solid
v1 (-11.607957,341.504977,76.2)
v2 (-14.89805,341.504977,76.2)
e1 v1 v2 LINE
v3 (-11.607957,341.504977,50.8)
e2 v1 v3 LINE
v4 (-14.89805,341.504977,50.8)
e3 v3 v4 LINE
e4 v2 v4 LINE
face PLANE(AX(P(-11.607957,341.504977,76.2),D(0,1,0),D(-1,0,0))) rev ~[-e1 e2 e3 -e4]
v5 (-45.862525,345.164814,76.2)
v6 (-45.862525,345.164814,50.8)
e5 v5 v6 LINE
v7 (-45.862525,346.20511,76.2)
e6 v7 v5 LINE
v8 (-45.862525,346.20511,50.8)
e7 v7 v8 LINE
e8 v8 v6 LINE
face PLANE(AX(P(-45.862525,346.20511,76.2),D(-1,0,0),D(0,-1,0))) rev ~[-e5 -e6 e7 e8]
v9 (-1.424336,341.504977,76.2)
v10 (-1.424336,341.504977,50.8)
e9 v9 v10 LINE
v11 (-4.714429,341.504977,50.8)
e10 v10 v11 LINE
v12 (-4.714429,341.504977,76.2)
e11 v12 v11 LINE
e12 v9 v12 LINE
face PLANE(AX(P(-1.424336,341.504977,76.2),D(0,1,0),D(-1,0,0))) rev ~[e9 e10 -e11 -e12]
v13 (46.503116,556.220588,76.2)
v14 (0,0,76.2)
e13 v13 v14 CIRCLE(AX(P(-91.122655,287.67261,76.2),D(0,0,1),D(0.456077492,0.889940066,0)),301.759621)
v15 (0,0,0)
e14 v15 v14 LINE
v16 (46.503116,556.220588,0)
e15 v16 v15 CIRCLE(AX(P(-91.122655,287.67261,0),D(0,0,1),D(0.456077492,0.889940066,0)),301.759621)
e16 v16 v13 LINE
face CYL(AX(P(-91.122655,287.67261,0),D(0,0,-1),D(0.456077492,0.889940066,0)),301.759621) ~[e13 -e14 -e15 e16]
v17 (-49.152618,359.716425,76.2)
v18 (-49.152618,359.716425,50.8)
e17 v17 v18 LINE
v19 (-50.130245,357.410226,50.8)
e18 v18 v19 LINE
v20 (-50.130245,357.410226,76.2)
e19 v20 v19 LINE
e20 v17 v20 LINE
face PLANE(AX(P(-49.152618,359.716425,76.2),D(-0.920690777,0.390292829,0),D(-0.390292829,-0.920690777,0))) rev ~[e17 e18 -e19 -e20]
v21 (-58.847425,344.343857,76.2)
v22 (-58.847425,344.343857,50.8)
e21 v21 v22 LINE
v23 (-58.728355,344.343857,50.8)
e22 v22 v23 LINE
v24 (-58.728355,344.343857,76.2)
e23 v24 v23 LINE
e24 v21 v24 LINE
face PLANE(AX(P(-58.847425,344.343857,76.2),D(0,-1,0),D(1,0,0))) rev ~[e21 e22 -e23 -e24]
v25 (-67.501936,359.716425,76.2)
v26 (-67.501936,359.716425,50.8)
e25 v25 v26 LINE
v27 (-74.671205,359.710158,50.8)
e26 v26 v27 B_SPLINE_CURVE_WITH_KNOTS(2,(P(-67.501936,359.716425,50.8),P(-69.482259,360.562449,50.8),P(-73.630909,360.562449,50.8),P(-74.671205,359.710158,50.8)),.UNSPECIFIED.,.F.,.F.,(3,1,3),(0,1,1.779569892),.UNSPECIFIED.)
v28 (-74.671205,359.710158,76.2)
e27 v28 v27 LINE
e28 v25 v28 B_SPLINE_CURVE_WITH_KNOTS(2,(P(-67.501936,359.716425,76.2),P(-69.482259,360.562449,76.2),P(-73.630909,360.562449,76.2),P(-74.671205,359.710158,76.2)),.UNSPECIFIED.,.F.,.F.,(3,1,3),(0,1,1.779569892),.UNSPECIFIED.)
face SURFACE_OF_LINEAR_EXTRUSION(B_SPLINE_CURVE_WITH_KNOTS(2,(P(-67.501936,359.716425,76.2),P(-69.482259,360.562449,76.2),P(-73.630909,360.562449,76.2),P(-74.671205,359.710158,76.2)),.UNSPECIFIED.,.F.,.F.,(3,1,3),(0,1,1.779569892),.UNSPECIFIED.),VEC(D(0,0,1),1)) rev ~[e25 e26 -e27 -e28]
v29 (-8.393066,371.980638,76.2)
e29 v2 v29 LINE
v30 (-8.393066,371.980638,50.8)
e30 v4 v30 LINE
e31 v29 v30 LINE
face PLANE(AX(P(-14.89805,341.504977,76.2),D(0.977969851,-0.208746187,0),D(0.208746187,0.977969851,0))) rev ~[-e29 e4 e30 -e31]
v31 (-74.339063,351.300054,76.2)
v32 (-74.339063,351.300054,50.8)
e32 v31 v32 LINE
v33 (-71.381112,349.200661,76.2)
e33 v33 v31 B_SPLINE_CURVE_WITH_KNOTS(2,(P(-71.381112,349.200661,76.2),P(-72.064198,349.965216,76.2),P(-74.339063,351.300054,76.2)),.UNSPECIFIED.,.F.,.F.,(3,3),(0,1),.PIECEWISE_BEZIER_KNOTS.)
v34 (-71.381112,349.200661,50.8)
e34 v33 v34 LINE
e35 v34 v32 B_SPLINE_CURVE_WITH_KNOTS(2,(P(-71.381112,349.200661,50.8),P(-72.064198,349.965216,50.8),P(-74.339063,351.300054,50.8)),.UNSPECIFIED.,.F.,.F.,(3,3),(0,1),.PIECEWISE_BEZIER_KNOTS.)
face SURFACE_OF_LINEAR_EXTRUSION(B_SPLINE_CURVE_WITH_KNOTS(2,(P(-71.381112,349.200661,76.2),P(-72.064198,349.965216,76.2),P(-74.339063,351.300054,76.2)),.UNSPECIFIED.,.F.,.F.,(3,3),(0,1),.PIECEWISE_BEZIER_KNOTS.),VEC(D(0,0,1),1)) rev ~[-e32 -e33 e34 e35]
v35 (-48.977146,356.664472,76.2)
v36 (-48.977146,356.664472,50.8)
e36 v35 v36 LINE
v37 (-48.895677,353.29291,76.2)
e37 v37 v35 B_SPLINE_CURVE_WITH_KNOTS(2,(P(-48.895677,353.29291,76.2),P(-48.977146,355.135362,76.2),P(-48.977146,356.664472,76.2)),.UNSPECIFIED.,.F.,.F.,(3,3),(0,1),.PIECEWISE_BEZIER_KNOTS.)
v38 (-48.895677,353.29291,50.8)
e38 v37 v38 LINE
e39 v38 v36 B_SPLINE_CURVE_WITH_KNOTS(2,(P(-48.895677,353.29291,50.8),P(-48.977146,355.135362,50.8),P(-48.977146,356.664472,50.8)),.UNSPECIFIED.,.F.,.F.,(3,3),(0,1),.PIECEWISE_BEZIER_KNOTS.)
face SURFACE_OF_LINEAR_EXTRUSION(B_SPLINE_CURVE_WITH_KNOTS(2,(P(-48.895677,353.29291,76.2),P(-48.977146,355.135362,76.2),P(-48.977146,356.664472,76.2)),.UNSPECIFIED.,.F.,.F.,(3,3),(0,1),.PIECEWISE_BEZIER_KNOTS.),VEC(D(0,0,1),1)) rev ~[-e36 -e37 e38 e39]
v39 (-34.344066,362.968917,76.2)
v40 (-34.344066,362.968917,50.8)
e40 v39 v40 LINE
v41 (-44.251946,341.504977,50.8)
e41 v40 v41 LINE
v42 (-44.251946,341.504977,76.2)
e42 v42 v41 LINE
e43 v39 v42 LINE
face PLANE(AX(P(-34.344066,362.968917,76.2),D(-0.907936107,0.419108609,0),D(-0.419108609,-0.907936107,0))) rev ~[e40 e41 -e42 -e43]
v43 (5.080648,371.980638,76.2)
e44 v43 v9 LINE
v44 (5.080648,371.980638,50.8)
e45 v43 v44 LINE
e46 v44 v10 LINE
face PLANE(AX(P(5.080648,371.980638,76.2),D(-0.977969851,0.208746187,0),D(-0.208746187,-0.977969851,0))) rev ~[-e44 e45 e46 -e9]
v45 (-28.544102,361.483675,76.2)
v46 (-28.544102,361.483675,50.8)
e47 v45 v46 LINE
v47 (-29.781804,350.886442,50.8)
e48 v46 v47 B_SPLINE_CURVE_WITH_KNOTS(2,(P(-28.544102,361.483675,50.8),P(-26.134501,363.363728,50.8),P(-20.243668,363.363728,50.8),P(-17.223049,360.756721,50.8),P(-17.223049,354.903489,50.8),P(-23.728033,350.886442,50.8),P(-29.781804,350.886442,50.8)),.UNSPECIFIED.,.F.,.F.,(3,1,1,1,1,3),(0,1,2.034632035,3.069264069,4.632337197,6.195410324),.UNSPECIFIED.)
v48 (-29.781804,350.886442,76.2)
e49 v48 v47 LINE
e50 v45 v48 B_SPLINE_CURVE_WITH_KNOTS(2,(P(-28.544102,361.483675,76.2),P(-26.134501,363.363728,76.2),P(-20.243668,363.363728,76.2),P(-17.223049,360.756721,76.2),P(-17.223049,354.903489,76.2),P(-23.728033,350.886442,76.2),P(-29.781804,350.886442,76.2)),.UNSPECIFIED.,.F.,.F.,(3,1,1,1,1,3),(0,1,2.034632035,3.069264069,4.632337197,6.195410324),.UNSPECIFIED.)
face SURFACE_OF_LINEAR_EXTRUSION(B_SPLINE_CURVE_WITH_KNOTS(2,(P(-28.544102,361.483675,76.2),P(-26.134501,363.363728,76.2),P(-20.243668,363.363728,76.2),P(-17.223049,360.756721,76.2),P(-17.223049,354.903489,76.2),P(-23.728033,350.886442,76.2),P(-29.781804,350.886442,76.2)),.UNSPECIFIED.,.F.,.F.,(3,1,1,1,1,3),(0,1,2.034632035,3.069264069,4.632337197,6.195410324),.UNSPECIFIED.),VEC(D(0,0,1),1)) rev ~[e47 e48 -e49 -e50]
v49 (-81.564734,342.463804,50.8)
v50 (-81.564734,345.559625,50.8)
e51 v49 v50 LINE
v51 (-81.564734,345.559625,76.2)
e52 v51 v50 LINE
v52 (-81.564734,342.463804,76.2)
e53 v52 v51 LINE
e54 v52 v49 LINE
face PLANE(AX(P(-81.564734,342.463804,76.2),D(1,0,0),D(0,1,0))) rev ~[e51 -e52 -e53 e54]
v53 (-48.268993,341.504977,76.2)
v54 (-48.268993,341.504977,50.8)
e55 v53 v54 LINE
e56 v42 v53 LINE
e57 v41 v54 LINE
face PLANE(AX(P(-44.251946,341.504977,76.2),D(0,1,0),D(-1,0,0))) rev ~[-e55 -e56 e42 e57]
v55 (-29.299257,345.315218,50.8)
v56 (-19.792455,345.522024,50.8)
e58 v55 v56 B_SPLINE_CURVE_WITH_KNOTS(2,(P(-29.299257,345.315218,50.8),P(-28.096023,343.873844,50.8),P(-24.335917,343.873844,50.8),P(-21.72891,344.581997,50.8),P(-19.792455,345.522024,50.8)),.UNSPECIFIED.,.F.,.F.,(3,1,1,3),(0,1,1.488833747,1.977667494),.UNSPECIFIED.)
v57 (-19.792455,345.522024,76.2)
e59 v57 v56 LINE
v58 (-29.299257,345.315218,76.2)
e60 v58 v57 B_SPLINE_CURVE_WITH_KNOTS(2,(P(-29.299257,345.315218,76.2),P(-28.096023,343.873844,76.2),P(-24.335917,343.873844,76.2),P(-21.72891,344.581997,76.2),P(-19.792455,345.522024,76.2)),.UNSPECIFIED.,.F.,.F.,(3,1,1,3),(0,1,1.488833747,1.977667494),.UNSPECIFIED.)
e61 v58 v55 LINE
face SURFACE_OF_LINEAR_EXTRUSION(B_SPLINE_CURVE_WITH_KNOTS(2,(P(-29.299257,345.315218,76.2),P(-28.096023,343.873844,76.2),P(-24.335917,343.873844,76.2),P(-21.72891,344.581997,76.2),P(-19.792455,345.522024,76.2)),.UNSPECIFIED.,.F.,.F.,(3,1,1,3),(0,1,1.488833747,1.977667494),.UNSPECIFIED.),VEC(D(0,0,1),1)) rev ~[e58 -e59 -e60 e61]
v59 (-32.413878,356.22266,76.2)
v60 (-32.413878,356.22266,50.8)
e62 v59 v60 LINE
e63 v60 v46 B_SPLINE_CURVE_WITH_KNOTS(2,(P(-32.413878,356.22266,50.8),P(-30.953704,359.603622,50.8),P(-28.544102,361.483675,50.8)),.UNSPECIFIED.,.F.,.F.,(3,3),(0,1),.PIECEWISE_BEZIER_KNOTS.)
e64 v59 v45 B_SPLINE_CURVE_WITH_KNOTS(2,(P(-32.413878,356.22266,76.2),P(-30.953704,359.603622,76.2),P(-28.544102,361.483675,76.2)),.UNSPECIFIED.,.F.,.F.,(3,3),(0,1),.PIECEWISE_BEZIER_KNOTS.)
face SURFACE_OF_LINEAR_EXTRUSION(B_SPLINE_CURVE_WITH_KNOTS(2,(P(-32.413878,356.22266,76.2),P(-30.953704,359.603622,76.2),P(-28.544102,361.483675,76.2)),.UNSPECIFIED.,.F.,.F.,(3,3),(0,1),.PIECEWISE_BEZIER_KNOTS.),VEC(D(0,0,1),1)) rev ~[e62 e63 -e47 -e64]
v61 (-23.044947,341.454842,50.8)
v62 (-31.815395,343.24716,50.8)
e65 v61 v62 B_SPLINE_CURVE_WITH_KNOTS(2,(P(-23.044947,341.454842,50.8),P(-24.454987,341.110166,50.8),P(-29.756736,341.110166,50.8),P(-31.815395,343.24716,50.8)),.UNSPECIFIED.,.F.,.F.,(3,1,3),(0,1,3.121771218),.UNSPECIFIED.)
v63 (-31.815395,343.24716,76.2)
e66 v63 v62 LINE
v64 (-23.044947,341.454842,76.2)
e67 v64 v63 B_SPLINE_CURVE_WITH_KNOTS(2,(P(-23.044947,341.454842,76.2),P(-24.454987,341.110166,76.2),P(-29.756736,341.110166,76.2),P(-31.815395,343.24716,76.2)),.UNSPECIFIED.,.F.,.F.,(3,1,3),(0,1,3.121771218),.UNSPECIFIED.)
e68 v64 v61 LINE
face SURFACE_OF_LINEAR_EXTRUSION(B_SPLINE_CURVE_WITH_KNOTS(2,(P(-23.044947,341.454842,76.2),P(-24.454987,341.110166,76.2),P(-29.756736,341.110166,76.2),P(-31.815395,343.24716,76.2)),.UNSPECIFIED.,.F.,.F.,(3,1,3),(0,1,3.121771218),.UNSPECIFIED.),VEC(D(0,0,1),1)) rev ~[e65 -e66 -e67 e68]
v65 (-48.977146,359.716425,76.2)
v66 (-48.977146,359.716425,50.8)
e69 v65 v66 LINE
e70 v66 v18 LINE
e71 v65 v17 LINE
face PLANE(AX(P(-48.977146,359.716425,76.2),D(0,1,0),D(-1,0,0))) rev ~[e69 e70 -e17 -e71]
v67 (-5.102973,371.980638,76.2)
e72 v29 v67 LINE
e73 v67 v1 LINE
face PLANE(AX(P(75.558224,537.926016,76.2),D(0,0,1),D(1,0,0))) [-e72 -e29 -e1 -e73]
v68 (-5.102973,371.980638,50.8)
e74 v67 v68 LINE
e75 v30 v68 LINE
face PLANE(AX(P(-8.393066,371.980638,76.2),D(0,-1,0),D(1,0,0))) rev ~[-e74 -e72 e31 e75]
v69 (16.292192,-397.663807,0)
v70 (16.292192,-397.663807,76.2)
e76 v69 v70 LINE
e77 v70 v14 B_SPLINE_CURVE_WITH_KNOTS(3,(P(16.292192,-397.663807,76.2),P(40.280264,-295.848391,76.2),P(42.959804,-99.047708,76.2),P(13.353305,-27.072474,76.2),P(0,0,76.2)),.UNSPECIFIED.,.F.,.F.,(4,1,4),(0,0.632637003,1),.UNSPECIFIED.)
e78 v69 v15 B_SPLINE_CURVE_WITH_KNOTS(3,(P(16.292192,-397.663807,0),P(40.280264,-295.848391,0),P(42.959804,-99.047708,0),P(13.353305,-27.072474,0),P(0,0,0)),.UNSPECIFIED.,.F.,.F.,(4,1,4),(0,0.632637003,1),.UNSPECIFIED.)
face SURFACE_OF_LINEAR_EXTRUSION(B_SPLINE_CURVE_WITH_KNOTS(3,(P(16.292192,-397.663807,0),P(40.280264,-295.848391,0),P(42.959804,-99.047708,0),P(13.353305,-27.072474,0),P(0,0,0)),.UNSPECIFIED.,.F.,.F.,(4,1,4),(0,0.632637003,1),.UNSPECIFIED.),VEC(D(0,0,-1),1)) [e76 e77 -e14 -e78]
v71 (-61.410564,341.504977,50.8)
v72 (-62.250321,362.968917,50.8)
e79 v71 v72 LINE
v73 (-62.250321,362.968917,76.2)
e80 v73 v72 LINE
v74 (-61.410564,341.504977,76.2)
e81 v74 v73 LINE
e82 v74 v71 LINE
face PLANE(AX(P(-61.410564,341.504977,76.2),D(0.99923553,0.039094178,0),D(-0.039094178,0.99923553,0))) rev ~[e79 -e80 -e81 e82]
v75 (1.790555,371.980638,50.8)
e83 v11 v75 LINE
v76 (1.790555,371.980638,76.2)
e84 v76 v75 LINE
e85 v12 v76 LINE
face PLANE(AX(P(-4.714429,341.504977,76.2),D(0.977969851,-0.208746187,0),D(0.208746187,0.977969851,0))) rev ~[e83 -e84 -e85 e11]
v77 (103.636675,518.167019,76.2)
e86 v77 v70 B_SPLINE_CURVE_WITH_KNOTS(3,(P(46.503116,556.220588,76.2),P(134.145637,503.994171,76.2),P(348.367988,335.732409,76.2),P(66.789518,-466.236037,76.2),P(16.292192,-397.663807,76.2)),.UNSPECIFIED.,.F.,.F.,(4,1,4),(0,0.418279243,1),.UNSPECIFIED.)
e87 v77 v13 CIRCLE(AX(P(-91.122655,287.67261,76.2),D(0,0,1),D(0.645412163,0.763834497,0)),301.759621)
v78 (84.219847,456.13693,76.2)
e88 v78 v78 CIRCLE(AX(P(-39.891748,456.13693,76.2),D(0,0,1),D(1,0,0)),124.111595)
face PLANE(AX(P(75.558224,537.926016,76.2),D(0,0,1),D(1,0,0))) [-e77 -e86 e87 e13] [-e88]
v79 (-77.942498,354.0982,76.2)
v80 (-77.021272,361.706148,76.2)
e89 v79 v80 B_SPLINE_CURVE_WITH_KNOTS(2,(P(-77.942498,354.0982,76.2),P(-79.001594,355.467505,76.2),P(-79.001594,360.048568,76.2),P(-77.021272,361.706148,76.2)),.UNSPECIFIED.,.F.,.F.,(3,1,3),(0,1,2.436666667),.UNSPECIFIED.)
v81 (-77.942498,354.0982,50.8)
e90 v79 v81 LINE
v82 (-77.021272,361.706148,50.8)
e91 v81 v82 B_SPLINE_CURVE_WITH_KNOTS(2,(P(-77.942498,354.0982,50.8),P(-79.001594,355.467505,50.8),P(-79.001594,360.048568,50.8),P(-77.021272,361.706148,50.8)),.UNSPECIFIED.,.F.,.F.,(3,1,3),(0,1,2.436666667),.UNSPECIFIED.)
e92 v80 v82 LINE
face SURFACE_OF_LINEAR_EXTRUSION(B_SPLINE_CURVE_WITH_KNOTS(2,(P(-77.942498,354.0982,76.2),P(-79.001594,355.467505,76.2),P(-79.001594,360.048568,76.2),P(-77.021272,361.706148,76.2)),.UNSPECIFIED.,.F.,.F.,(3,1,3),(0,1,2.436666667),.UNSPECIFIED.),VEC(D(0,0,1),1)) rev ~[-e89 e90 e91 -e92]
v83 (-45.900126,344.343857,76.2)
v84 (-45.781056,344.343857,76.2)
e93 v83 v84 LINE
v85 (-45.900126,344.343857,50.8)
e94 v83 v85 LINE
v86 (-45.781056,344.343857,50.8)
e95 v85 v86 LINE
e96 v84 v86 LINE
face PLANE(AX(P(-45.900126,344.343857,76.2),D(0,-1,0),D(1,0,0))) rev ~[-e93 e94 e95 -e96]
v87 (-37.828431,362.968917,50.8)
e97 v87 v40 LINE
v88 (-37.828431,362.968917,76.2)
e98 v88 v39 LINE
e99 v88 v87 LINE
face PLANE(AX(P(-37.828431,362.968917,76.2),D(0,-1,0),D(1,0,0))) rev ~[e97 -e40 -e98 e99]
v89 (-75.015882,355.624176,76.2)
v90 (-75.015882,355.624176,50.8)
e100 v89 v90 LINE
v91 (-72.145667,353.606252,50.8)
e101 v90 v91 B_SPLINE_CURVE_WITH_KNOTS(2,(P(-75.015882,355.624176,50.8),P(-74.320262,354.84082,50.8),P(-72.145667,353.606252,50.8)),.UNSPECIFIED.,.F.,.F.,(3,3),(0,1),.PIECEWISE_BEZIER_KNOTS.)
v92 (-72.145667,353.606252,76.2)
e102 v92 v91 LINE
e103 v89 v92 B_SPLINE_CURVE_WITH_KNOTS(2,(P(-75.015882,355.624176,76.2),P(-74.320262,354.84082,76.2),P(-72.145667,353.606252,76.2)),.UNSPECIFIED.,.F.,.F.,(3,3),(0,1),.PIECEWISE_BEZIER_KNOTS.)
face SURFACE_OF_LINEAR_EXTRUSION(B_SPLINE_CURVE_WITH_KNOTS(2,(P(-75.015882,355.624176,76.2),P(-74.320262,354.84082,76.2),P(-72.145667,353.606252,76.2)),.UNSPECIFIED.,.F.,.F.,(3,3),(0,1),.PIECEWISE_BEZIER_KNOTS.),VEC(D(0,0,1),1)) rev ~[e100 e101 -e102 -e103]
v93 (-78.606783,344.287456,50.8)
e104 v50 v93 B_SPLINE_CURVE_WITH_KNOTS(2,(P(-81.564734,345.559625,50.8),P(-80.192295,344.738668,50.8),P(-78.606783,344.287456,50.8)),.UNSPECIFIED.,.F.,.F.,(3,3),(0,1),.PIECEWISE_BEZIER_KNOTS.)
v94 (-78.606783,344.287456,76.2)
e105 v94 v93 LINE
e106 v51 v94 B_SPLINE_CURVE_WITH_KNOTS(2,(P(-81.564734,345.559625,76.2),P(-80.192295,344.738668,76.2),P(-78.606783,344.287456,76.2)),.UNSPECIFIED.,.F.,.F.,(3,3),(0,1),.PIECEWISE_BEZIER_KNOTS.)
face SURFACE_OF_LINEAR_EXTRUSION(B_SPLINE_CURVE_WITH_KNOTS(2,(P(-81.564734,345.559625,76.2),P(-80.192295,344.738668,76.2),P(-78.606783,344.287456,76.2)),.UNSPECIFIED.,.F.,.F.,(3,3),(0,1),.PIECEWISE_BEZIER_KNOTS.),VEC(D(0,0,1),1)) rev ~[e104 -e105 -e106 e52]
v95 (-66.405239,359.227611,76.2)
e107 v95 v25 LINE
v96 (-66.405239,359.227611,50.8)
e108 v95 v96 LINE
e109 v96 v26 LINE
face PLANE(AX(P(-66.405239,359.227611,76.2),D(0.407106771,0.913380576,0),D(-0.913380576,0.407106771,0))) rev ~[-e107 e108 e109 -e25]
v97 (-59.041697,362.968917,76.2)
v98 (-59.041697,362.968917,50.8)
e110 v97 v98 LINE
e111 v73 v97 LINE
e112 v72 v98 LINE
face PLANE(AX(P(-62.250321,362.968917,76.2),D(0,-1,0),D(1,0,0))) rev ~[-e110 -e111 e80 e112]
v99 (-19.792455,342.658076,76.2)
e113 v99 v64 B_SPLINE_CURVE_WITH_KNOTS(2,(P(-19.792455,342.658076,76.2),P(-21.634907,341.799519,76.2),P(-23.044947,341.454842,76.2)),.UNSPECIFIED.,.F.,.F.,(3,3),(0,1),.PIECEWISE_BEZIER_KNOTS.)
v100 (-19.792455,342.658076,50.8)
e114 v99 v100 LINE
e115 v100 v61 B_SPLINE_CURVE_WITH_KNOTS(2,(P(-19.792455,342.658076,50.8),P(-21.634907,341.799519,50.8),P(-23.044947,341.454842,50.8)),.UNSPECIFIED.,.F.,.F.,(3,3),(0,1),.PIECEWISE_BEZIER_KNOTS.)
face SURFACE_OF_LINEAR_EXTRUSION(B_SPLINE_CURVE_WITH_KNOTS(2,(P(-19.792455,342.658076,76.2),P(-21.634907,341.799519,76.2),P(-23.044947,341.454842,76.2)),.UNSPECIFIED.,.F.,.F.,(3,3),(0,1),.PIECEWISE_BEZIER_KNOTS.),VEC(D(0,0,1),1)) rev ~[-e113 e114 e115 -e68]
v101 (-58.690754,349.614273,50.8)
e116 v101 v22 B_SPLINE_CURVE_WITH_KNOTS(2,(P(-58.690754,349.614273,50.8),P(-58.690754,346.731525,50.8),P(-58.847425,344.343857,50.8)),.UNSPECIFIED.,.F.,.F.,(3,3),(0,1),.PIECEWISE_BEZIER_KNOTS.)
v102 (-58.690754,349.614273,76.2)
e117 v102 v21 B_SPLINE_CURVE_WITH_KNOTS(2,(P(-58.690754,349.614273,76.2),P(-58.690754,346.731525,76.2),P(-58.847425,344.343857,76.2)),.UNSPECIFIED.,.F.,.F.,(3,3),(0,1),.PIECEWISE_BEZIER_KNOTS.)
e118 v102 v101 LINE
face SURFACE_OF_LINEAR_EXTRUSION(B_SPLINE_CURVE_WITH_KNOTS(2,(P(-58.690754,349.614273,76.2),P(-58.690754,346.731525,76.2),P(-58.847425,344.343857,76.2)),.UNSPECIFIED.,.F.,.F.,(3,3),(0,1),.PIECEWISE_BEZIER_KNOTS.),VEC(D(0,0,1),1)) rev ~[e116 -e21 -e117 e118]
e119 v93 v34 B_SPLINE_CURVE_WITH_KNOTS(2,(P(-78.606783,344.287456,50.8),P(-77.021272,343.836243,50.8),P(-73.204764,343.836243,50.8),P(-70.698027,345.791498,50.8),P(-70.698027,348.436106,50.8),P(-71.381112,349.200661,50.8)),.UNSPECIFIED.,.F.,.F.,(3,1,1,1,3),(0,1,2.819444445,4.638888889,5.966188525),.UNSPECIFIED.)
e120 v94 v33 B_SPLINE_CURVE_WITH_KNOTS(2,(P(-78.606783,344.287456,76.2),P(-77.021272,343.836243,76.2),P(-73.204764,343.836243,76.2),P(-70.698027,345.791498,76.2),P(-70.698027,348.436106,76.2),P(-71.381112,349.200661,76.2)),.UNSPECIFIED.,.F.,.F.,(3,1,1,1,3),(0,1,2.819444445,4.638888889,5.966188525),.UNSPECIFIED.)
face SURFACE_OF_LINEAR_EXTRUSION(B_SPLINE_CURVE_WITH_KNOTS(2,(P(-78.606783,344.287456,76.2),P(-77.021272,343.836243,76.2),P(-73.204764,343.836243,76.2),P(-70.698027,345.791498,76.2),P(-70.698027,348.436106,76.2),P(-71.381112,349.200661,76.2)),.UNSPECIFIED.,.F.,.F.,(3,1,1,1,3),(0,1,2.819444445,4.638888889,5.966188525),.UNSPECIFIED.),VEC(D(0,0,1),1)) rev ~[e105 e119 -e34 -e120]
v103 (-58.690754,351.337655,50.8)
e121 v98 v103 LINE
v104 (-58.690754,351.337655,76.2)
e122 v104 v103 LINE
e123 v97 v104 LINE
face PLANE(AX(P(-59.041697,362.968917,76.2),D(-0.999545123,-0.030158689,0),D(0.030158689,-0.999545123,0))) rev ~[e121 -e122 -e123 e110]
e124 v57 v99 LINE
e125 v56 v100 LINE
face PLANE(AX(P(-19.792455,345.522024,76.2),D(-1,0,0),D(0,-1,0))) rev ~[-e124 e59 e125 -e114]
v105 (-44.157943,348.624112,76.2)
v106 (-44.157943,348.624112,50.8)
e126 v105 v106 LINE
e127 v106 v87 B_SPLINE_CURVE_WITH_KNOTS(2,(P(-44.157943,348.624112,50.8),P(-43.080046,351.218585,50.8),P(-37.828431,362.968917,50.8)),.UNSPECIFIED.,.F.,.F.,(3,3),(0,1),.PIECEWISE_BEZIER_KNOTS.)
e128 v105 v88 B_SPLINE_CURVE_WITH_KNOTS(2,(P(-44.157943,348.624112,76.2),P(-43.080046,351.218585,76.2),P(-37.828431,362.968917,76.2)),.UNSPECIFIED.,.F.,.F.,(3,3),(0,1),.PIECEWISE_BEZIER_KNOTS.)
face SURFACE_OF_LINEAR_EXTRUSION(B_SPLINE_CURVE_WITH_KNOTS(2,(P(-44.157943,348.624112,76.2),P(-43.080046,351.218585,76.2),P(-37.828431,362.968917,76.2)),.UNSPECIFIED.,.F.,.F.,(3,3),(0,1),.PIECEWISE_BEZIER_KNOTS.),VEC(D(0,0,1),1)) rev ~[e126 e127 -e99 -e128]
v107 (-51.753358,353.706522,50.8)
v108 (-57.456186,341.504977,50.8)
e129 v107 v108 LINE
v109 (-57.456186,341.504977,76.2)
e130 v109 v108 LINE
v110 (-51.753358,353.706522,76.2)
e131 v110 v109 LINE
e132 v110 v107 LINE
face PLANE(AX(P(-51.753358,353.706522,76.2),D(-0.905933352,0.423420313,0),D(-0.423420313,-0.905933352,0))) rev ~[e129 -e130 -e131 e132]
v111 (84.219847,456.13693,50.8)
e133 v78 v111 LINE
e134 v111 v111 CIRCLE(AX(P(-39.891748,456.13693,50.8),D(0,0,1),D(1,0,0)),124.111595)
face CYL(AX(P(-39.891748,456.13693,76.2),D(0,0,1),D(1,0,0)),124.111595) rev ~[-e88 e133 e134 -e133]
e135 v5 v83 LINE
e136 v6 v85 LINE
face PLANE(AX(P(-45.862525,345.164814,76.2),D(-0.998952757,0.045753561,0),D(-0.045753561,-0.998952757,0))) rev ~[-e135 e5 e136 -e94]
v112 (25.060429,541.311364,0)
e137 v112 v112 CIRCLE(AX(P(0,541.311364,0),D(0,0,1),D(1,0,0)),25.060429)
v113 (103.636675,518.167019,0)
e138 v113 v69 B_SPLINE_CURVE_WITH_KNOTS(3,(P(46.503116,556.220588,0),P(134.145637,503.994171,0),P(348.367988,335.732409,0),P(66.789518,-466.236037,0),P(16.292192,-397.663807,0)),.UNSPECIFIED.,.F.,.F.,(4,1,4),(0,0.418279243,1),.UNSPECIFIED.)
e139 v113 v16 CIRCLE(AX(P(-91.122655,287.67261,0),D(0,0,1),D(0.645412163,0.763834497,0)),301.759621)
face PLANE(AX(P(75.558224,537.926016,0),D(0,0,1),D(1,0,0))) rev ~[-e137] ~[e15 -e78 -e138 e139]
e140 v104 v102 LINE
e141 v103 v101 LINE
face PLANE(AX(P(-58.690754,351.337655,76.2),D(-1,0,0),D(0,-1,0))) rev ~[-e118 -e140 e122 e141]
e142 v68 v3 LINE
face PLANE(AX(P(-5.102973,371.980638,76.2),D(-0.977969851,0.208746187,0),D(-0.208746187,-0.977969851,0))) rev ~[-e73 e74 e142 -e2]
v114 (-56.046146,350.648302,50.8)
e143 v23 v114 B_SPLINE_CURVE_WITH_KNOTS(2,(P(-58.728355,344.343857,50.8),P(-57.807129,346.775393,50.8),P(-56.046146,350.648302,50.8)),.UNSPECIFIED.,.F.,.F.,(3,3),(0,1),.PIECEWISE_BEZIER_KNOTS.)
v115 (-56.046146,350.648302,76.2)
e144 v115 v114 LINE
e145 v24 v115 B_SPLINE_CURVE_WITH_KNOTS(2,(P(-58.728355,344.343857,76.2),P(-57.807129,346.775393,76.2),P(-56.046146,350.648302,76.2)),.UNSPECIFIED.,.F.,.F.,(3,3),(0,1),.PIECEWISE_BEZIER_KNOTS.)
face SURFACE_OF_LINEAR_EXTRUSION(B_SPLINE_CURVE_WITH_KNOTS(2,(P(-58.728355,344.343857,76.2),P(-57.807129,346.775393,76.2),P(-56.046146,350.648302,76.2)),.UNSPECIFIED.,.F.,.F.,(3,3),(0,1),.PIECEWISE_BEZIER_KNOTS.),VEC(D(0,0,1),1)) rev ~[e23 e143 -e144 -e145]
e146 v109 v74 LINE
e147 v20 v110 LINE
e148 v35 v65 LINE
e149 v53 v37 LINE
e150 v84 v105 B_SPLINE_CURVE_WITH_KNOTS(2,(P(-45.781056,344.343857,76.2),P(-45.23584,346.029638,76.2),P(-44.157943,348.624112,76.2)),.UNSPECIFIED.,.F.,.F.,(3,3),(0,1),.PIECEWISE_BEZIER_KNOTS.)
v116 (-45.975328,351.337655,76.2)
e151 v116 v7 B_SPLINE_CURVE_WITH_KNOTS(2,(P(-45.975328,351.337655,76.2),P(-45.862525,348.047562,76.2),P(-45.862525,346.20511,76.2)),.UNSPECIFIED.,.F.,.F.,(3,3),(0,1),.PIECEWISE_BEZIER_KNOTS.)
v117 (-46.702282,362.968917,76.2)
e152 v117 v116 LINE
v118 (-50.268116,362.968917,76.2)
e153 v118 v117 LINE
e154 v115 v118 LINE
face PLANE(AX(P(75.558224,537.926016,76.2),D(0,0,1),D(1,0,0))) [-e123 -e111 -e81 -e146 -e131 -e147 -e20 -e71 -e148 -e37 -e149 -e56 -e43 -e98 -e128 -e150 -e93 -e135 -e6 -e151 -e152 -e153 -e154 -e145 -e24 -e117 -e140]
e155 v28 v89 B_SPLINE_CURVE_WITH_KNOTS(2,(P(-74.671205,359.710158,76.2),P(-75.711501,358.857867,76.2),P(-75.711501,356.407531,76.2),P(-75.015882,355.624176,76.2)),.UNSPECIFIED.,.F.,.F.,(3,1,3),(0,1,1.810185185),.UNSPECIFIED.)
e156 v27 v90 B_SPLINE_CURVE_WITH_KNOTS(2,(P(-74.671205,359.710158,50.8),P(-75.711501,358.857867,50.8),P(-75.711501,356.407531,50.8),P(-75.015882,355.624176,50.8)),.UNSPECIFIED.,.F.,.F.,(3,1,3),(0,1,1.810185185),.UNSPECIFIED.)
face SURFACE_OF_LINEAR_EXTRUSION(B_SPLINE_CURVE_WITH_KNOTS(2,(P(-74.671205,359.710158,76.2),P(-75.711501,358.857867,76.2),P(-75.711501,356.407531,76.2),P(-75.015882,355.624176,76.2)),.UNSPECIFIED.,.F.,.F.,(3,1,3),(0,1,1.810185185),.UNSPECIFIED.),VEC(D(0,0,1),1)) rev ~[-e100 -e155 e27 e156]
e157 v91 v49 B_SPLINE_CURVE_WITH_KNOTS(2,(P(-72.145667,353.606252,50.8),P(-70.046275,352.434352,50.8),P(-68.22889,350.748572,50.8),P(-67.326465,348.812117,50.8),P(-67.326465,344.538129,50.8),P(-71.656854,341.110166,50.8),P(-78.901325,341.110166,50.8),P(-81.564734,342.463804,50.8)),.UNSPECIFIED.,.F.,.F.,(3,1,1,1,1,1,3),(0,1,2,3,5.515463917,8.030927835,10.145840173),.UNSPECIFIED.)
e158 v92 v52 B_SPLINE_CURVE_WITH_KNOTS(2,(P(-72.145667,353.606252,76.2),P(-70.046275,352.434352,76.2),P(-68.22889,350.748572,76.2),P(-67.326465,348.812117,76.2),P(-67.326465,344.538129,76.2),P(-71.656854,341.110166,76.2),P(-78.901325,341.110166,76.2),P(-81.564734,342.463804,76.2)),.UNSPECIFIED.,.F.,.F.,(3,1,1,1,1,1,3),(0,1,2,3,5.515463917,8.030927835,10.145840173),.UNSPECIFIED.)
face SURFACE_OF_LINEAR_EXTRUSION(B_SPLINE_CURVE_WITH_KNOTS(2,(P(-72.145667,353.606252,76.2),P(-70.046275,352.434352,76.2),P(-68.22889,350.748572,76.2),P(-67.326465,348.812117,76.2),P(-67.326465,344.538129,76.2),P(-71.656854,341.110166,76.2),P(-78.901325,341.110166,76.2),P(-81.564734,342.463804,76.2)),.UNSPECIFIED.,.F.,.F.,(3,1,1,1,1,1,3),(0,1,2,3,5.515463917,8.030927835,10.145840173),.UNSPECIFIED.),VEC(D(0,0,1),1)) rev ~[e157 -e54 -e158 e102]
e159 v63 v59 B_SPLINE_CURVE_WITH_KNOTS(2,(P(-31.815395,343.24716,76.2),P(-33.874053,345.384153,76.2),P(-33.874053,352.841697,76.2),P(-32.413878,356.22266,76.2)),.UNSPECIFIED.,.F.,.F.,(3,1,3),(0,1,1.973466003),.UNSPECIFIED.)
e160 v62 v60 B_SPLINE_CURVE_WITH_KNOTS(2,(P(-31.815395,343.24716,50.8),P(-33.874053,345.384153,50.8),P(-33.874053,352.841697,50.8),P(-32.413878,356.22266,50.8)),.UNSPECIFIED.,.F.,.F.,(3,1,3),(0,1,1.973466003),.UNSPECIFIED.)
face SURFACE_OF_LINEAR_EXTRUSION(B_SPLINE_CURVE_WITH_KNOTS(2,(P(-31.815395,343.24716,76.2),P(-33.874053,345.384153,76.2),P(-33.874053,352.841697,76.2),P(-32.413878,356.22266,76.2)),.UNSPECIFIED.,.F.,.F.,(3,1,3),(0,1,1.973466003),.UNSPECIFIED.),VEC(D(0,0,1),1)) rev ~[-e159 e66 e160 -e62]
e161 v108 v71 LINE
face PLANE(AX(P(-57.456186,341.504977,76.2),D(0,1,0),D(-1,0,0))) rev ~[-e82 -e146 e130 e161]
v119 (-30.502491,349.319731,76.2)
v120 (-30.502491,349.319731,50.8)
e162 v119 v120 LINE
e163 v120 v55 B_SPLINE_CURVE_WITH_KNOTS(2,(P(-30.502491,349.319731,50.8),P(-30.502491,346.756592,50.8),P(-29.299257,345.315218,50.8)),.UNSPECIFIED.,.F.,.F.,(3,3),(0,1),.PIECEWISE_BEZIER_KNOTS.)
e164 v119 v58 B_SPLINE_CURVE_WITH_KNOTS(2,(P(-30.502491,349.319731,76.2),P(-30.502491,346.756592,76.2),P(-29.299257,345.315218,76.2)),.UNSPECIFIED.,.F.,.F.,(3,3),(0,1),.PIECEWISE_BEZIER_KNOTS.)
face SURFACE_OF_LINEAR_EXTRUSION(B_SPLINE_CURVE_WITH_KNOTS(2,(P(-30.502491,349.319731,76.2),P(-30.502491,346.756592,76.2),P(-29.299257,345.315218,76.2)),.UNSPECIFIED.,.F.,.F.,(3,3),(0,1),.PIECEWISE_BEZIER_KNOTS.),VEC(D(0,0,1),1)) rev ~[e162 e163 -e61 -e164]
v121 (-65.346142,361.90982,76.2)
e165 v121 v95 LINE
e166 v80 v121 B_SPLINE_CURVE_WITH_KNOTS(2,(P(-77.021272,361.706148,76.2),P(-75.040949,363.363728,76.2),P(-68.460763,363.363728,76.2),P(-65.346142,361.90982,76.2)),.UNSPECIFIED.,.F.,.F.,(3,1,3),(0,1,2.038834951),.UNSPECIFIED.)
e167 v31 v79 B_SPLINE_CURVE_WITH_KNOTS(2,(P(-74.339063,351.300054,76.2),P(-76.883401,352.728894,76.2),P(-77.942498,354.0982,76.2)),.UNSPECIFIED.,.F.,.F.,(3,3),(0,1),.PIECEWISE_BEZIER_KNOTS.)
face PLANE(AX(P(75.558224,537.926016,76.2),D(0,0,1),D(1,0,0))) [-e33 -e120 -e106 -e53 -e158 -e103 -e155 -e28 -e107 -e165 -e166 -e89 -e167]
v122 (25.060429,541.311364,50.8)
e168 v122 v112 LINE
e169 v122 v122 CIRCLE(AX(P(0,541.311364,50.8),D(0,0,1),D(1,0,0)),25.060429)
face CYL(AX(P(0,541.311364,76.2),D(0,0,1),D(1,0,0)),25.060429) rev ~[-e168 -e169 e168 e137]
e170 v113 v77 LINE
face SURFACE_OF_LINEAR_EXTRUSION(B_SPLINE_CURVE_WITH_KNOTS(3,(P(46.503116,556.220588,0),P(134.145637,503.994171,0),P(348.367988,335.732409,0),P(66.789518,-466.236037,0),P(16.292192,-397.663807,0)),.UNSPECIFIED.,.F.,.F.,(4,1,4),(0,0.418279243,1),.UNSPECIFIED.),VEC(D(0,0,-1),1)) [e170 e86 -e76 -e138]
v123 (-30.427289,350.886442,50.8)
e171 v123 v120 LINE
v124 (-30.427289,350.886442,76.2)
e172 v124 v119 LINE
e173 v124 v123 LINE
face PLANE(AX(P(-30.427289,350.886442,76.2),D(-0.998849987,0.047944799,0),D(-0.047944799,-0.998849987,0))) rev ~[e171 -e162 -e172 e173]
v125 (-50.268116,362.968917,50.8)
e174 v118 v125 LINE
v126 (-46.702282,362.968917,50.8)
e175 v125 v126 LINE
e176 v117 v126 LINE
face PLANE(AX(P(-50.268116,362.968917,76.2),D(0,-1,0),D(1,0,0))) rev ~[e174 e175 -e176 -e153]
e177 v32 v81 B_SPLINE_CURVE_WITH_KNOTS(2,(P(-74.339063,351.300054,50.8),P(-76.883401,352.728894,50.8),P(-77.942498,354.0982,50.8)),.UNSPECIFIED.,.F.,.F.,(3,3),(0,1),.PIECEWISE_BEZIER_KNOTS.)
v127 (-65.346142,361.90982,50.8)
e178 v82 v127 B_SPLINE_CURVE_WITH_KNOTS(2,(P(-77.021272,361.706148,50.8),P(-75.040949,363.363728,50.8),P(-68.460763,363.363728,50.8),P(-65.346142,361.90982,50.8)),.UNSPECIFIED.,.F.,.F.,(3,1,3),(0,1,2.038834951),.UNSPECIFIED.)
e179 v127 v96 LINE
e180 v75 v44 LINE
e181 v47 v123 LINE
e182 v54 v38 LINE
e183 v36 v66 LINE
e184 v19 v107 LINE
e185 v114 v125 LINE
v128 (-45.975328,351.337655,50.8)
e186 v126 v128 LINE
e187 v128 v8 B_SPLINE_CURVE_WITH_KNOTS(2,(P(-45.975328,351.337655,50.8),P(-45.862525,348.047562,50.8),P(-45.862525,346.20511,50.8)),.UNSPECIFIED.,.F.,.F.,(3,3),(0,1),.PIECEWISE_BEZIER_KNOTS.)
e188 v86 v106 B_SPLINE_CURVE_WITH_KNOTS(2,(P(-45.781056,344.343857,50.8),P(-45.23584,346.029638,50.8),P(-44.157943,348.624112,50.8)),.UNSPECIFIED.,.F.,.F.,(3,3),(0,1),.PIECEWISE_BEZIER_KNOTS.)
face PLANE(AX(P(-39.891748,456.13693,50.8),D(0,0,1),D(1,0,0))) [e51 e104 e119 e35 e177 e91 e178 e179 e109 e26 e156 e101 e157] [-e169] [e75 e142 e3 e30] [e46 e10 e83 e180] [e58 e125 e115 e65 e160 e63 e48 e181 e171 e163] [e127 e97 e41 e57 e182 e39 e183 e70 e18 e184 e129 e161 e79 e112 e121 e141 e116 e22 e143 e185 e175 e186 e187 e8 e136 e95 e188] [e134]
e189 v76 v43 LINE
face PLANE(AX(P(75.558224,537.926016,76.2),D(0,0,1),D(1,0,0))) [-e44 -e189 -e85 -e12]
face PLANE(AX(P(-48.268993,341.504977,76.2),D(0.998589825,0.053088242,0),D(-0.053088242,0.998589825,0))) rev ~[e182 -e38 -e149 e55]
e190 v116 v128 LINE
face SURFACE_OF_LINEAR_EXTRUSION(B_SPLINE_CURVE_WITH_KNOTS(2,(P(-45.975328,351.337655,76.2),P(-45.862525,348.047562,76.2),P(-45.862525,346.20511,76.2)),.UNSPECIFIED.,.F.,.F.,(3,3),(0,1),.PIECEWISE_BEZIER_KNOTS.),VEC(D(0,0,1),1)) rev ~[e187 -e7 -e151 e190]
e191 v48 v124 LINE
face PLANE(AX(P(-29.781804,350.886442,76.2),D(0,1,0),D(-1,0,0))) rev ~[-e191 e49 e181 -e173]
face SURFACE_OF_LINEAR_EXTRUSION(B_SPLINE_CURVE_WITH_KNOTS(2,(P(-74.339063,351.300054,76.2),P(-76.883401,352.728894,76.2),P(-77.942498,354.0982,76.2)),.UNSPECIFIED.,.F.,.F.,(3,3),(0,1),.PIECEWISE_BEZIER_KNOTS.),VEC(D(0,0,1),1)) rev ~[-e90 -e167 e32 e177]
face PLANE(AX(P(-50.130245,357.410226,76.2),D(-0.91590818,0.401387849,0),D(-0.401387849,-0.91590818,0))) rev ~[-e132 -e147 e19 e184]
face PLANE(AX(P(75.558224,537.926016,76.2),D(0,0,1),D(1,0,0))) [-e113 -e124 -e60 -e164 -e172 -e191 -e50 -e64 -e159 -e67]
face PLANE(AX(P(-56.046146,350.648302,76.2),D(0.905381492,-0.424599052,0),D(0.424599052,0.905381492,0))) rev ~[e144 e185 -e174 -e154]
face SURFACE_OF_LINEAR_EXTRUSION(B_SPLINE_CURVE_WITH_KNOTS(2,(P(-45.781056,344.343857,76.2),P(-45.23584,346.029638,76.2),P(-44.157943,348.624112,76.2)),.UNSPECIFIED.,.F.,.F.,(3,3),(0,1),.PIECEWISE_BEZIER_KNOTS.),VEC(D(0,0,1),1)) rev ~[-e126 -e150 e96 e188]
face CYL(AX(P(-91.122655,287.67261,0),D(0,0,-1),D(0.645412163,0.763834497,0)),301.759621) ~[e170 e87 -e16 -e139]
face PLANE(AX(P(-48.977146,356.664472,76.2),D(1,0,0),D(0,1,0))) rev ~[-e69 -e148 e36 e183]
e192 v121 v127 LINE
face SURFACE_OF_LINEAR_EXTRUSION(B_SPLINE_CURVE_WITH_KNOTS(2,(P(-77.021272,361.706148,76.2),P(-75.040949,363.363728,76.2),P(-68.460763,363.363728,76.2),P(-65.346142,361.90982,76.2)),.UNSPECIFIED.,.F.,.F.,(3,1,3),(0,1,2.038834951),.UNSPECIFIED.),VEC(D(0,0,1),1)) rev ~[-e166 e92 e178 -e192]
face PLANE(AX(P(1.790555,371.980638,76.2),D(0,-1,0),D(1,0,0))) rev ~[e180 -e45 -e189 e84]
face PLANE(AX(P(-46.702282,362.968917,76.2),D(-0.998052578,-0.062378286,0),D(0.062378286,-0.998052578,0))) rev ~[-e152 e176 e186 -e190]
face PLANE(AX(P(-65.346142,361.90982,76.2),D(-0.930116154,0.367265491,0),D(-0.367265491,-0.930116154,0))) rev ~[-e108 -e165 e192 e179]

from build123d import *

# Parameters (mm, degrees)
F1_DEPTH = 76.2
F2_R     = 124.1115948674
F2_R_2   = 25.0604291134
F3_DEPTH = 25.4
F4_DEPTH = 76.2010001


with BuildPart() as f1:
    # F0 (on Top) → F1 (new body)
    with BuildSketch(Plane.XY):
        with BuildLine():
            add(Edge.make_bspline(
                [(46.503115952, 556.2205875025), (65.7668212961, 544.7412931299), (85.1253253591, 532.3849536565), (103.636674583, 518.1670188904)],
                knots=[0, 0, 0, 0, 0.0919372013, 0.0919372013, 0.0919372013, 0.0919372013], degree=3))
            ThreePointArc((103.636674583, 518.1670188904), (76.1555034208, 538.8237333012), (46.503115952, 556.2205875025))
        make_face()
        with BuildLine():
            add(Edge.make_bspline(
                [(103.636674583, 518.1670188904), (169.3449126156, 467.6987666499), (322.4804514396, 262.0016746149), (66.7895182617, -466.2360370375), (16.2921920384, -397.6638066205)],
                knots=[0.0919372013, 0.0919372013, 0.0919372013, 0.0919372013, 0.4182792434, 1, 1, 1, 1], degree=3))
            add(Edge.make_bspline(
                [(46.503115952, 556.2205875025), (65.7668212961, 544.7412931299), (85.1253253591, 532.3849536565), (103.636674583, 518.1670188904)],
                knots=[0, 0, 0, 0, 0.0919372013, 0.0919372013, 0.0919372013, 0.0919372013], degree=3))
            ThreePointArc((46.503115952, 556.2205875025), (-391.833140997, 312.8136692104), (0, 0))
            add(Edge.make_bspline(
                [(16.2921920384, -397.6638066205), (40.2802635686, -295.8483907348), (42.9598036421, -99.0477075274), (13.3533048422, -27.0724744672), (0, 0)],
                knots=[0, 0, 0, 0, 0.6326370031, 1, 1, 1, 1], degree=3))
        make_face()
    extrude(amount=F1_DEPTH)

    # F2 (on face) → F3 (cut)
    with BuildSketch(Plane.XY.offset(76.2)):
        with Locations((-39.8917477844, 456.1369303552)):
            Circle(F2_R)
        with BuildLine():
            add(Edge.make_bspline(
                [(-67.7776773232, 349.780344177), (-67.3264645743, 348.81211682), (-67.3264645743, 347.5963491355)],
                knots=[0, 0, 0, 1, 1, 1], degree=2))
            add(Edge.make_bspline(
                [(-67.3264645743, 347.5963491355), (-67.3264645743, 344.5381293931), (-69.4916590846, 342.8241476317)],
                knots=[0, 0, 0, 1, 1, 1], degree=2))
            add(Edge.make_bspline(
                [(-69.4916590846, 342.8241476317), (-71.6568535949, 341.1101658703), (-75.5924314602, 341.1101658703)],
                knots=[0, 0, 0, 1, 1, 1], degree=2))
            add(Edge.make_bspline(
                [(-75.5924314602, 341.1101658703), (-78.901324952, 341.1101658703), (-81.5647335392, 342.463804117)],
                knots=[0, 0, 0, 1, 1, 1], degree=2))
            Line((-81.5647335392, 342.463804117), (-81.5647335392, 345.5596249218))
            add(Edge.make_bspline(
                [(-81.5647335392, 345.5596249218), (-80.1922947613, 344.7386683926), (-78.6067832965, 344.2874556437)],
                knots=[0, 0, 0, 1, 1, 1], degree=2))
            add(Edge.make_bspline(
                [(-78.6067832965, 344.2874556437), (-77.0212718316, 343.8362428948), (-75.667633585, 343.8362428948)],
                knots=[0, 0, 0, 1, 1, 1], degree=2))
            add(Edge.make_bspline(
                [(-75.667633585, 343.8362428948), (-73.2047639973, 343.8362428948), (-71.9513952504, 344.8138705174)],
                knots=[0, 0, 0, 1, 1, 1], degree=2))
            add(Edge.make_bspline(
                [(-71.9513952504, 344.8138705174), (-70.6980265035, 345.79149814), (-70.6980265035, 347.3206080112)],
                knots=[0, 0, 0, 1, 1, 1], degree=2))
            add(Edge.make_bspline(
                [(-70.6980265035, 347.3206080112), (-70.6980265035, 348.436106196), (-71.3811124706, 349.2006611316)],
                knots=[0, 0, 0, 1, 1, 1], degree=2))
            add(Edge.make_bspline(
                [(-71.3811124706, 349.2006611316), (-72.0641984376, 349.9652160672), (-74.3390627133, 351.3000537826)],
                knots=[0, 0, 0, 1, 1, 1], degree=2))
            add(Edge.make_bspline(
                [(-74.3390627133, 351.3000537826), (-76.8834012695, 352.7288941541), (-77.9424978606, 354.0981995101)],
                knots=[0, 0, 0, 1, 1, 1], degree=2))
            add(Edge.make_bspline(
                [(-77.9424978606, 354.0981995101), (-79.0015944518, 355.4675048661), (-79.0015944518, 357.3475579864)],
                knots=[0, 0, 0, 1, 1, 1], degree=2))
            add(Edge.make_bspline(
                [(-79.0015944518, 357.3475579864), (-79.0015944518, 360.048567636), (-77.0212718316, 361.7061478038)],
                knots=[0, 0, 0, 1, 1, 1], degree=2))
            add(Edge.make_bspline(
                [(-77.0212718316, 361.7061478038), (-75.0409492115, 363.3637279716), (-71.8135246883, 363.3637279716)],
                knots=[0, 0, 0, 1, 1, 1], degree=2))
            add(Edge.make_bspline(
                [(-71.8135246883, 363.3637279716), (-68.4607632903, 363.3637279716), (-65.3461419542, 361.9098202252)],
                knots=[0, 0, 0, 1, 1, 1], degree=2))
            Line((-65.3461419542, 361.9098202252), (-66.4052385454, 359.2276111068))
            Line((-66.4052385454, 359.2276111068), (-67.5019361989, 359.7164249181))
            add(Edge.make_bspline(
                [(-67.5019361989, 359.7164249181), (-69.482258819, 360.5624488222), (-71.8135246883, 360.5624488222)],
                knots=[0, 0, 0, 1, 1, 1], degree=2))
            add(Edge.make_bspline(
                [(-71.8135246883, 360.5624488222), (-73.6309093713, 360.5624488222), (-74.6712054312, 359.7101580744)],
                knots=[0, 0, 0, 1, 1, 1], degree=2))
            add(Edge.make_bspline(
                [(-74.6712054312, 359.7101580744), (-75.7115014911, 358.8578673265), (-75.7115014911, 357.5042290798)],
                knots=[0, 0, 0, 1, 1, 1], degree=2))
            add(Edge.make_bspline(
                [(-75.7115014911, 357.5042290798), (-75.7115014911, 356.4075314263), (-75.0158818366, 355.6241759594)],
                knots=[0, 0, 0, 1, 1, 1], degree=2))
            add(Edge.make_bspline(
                [(-75.0158818366, 355.6241759594), (-74.3202621821, 354.8408204926), (-72.1456674062, 353.6062522769)],
                knots=[0, 0, 0, 1, 1, 1], degree=2))
            add(Edge.make_bspline(
                [(-72.1456674062, 353.6062522769), (-70.0462747551, 352.4343524986), (-69.1375824136, 351.5914620163)],
                knots=[0, 0, 0, 1, 1, 1], degree=2))
            add(Edge.make_bspline(
                [(-69.1375824136, 351.5914620163), (-68.2288900721, 350.748571534), (-67.7776773232, 349.780344177)],
                knots=[0, 0, 0, 1, 1, 1], degree=2))
        make_face(mode=Mode.SUBTRACT)
        with BuildLine():
            Line((-44.2519459439, 341.5049770256), (-48.2689927777, 341.5049770256))
            Line((-48.2689927777, 341.5049770256), (-48.8956771511, 353.2929100902))
            add(Edge.make_bspline(
                [(-48.8956771511, 353.2929100902), (-48.9771461197, 355.1353621482), (-48.9771461197, 356.6644720194)],
                knots=[0, 0, 0, 1, 1, 1], degree=2))
            Line((-48.9771461197, 356.6644720194), (-48.9771461197, 359.7164249181))
            Line((-48.9771461197, 359.7164249181), (-49.1526177443, 359.7164249181))
            Line((-49.1526177443, 359.7164249181), (-50.1302453668, 357.4102264238))
            Line((-50.1302453668, 357.4102264238), (-51.7533578941, 353.7065217767))
            Line((-51.7533578941, 353.7065217767), (-57.4561856925, 341.5049770256))
            Line((-57.4561856925, 341.5049770256), (-61.410564089, 341.5049770256))
            Line((-61.410564089, 341.5049770256), (-62.2503211494, 362.9689168163))
            Line((-62.2503211494, 362.9689168163), (-59.0416971573, 362.9689168163))
            Line((-59.0416971573, 362.9689168163), (-58.6907539082, 351.337654845))
            Line((-58.6907539082, 351.337654845), (-58.6907539082, 349.614272818))
            add(Edge.make_bspline(
                [(-58.6907539082, 349.614272818), (-58.6907539082, 346.7315247002), (-58.8474250015, 344.3438572373)],
                knots=[0, 0, 0, 1, 1, 1], degree=2))
            Line((-58.8474250015, 344.3438572373), (-58.7283549706, 344.3438572373))
            add(Edge.make_bspline(
                [(-58.7283549706, 344.3438572373), (-57.8071289416, 346.7753926063), (-56.0461458522, 350.6483020342)],
                knots=[0, 0, 0, 1, 1, 1], degree=2))
            Line((-56.0461458522, 350.6483020342), (-50.268115929, 362.9689168163))
            Line((-50.268115929, 362.9689168163), (-46.7022818441, 362.9689168163))
            Line((-46.7022818441, 362.9689168163), (-45.9753279709, 351.337654845))
            add(Edge.make_bspline(
                [(-45.9753279709, 351.337654845), (-45.8625247836, 348.0475618844), (-45.8625247836, 346.2051098265)],
                knots=[0, 0, 0, 1, 1, 1], degree=2))
            Line((-45.8625247836, 346.2051098265), (-45.8625247836, 345.1648137665))
            Line((-45.8625247836, 345.1648137665), (-45.900125846, 344.3438572373))
            Line((-45.900125846, 344.3438572373), (-45.7810558151, 344.3438572373))
            add(Edge.make_bspline(
                [(-45.7810558151, 344.3438572373), (-45.2358404102, 346.0296382019), (-44.1579432878, 348.624111508)],
                knots=[0, 0, 0, 1, 1, 1], degree=2))
            add(Edge.make_bspline(
                [(-44.1579432878, 348.624111508), (-43.0800461655, 351.2185848141), (-37.828431116, 362.9689168163)],
                knots=[0, 0, 0, 1, 1, 1], degree=2))
            Line((-37.828431116, 362.9689168163), (-34.3440659996, 362.9689168163))
            Line((-34.3440659996, 362.9689168163), (-44.2519459439, 341.5049770256))
        make_face(mode=Mode.SUBTRACT)
        with BuildLine():
            add(Edge.make_bspline(
                [(-23.0449467463, 341.4548422757), (-24.4549865865, 341.1101658703), (-26.1533012386, 341.1101658703)],
                knots=[0, 0, 0, 1, 1, 1], degree=2))
            add(Edge.make_bspline(
                [(-26.1533012386, 341.1101658703), (-29.7567363859, 341.1101658703), (-31.8153945527, 343.2471595838)],
                knots=[0, 0, 0, 1, 1, 1], degree=2))
            add(Edge.make_bspline(
                [(-31.8153945527, 343.2471595838), (-33.8740527195, 345.3841532972), (-33.8740527195, 349.1630600692)],
                knots=[0, 0, 0, 1, 1, 1], degree=2))
            add(Edge.make_bspline(
                [(-33.8740527195, 349.1630600692), (-33.8740527195, 352.8416973413), (-32.4138781294, 356.2226595361)],
                knots=[0, 0, 0, 1, 1, 1], degree=2))
            add(Edge.make_bspline(
                [(-32.4138781294, 356.2226595361), (-30.9537035392, 359.6036217309), (-28.5441021233, 361.4836748512)],
                knots=[0, 0, 0, 1, 1, 1], degree=2))
            add(Edge.make_bspline(
                [(-28.5441021233, 361.4836748512), (-26.1345007074, 363.3637279716), (-23.239218902, 363.3637279716)],
                knots=[0, 0, 0, 1, 1, 1], degree=2))
            add(Edge.make_bspline(
                [(-23.239218902, 363.3637279716), (-20.2436675969, 363.3637279716), (-18.7333582569, 362.0602244748)],
                knots=[0, 0, 0, 1, 1, 1], degree=2))
            add(Edge.make_bspline(
                [(-18.7333582569, 362.0602244748), (-17.2230489169, 360.756720978), (-17.2230489169, 358.4254551088)],
                knots=[0, 0, 0, 1, 1, 1], degree=2))
            add(Edge.make_bspline(
                [(-17.2230489169, 358.4254551088), (-17.2230489169, 354.90348893), (-20.4755408151, 352.8949655131)],
                knots=[0, 0, 0, 1, 1, 1], degree=2))
            add(Edge.make_bspline(
                [(-20.4755408151, 352.8949655131), (-23.7280327133, 350.8864420962), (-29.7818037609, 350.8864420962)],
                knots=[0, 0, 0, 1, 1, 1], degree=2))
            Line((-29.7818037609, 350.8864420962), (-30.4272886655, 350.8864420962))
            Line((-30.4272886655, 350.8864420962), (-30.5024907903, 349.3197311625))
            add(Edge.make_bspline(
                [(-30.5024907903, 349.3197311625), (-30.5024907903, 346.7565920751), (-29.2992567933, 345.3152180162)],
                knots=[0, 0, 0, 1, 1, 1], degree=2))
            add(Edge.make_bspline(
                [(-29.2992567933, 345.3152180162), (-28.0960227963, 343.8738439572), (-25.5704847713, 343.8738439572)],
                knots=[0, 0, 0, 1, 1, 1], degree=2))
            add(Edge.make_bspline(
                [(-25.5704847713, 343.8738439572), (-24.3359165556, 343.8738439572), (-23.0324130588, 344.2279206282)],
                knots=[0, 0, 0, 1, 1, 1], degree=2))
            add(Edge.make_bspline(
                [(-23.0324130588, 344.2279206282), (-21.728909562, 344.5819972992), (-19.792454848, 345.5220238594)],
                knots=[0, 0, 0, 1, 1, 1], degree=2))
            Line((-19.792454848, 345.5220238594), (-19.792454848, 342.6580762727))
            add(Edge.make_bspline(
                [(-19.792454848, 342.6580762727), (-21.634906906, 341.7995186811), (-23.0449467463, 341.4548422757)],
                knots=[0, 0, 0, 1, 1, 1], degree=2))
        make_face(mode=Mode.SUBTRACT)
        Polygon((-5.1029731343, 371.9806381065), (-11.6079569308, 341.5049770256), (-14.8980498914, 341.5049770256), (-8.393066095, 371.9806381065), align=None, mode=Mode.SUBTRACT)
        Polygon((5.0806479342, 371.9806381065), (-1.4243358622, 341.5049770256), (-4.7144288228, 341.5049770256), (1.7905549736, 371.9806381065), align=None, mode=Mode.SUBTRACT)
        with Locations((0, 541.3113636543)):
            Circle(F2_R_2, mode=Mode.SUBTRACT)
        with Locations((0, 541.3113636543)):
            Circle(F2_R_2)
    extrude(amount=-F3_DEPTH, mode=Mode.SUBTRACT)

    # F2 (on face) → F4 (cut, through all)
    with BuildSketch(Plane.XY.offset(76.2)):
        with Locations((0, 541.3113636543)):
            Circle(F2_R_2)
    extrude(amount=-F4_DEPTH, mode=Mode.SUBTRACT)


solid = f1.part
